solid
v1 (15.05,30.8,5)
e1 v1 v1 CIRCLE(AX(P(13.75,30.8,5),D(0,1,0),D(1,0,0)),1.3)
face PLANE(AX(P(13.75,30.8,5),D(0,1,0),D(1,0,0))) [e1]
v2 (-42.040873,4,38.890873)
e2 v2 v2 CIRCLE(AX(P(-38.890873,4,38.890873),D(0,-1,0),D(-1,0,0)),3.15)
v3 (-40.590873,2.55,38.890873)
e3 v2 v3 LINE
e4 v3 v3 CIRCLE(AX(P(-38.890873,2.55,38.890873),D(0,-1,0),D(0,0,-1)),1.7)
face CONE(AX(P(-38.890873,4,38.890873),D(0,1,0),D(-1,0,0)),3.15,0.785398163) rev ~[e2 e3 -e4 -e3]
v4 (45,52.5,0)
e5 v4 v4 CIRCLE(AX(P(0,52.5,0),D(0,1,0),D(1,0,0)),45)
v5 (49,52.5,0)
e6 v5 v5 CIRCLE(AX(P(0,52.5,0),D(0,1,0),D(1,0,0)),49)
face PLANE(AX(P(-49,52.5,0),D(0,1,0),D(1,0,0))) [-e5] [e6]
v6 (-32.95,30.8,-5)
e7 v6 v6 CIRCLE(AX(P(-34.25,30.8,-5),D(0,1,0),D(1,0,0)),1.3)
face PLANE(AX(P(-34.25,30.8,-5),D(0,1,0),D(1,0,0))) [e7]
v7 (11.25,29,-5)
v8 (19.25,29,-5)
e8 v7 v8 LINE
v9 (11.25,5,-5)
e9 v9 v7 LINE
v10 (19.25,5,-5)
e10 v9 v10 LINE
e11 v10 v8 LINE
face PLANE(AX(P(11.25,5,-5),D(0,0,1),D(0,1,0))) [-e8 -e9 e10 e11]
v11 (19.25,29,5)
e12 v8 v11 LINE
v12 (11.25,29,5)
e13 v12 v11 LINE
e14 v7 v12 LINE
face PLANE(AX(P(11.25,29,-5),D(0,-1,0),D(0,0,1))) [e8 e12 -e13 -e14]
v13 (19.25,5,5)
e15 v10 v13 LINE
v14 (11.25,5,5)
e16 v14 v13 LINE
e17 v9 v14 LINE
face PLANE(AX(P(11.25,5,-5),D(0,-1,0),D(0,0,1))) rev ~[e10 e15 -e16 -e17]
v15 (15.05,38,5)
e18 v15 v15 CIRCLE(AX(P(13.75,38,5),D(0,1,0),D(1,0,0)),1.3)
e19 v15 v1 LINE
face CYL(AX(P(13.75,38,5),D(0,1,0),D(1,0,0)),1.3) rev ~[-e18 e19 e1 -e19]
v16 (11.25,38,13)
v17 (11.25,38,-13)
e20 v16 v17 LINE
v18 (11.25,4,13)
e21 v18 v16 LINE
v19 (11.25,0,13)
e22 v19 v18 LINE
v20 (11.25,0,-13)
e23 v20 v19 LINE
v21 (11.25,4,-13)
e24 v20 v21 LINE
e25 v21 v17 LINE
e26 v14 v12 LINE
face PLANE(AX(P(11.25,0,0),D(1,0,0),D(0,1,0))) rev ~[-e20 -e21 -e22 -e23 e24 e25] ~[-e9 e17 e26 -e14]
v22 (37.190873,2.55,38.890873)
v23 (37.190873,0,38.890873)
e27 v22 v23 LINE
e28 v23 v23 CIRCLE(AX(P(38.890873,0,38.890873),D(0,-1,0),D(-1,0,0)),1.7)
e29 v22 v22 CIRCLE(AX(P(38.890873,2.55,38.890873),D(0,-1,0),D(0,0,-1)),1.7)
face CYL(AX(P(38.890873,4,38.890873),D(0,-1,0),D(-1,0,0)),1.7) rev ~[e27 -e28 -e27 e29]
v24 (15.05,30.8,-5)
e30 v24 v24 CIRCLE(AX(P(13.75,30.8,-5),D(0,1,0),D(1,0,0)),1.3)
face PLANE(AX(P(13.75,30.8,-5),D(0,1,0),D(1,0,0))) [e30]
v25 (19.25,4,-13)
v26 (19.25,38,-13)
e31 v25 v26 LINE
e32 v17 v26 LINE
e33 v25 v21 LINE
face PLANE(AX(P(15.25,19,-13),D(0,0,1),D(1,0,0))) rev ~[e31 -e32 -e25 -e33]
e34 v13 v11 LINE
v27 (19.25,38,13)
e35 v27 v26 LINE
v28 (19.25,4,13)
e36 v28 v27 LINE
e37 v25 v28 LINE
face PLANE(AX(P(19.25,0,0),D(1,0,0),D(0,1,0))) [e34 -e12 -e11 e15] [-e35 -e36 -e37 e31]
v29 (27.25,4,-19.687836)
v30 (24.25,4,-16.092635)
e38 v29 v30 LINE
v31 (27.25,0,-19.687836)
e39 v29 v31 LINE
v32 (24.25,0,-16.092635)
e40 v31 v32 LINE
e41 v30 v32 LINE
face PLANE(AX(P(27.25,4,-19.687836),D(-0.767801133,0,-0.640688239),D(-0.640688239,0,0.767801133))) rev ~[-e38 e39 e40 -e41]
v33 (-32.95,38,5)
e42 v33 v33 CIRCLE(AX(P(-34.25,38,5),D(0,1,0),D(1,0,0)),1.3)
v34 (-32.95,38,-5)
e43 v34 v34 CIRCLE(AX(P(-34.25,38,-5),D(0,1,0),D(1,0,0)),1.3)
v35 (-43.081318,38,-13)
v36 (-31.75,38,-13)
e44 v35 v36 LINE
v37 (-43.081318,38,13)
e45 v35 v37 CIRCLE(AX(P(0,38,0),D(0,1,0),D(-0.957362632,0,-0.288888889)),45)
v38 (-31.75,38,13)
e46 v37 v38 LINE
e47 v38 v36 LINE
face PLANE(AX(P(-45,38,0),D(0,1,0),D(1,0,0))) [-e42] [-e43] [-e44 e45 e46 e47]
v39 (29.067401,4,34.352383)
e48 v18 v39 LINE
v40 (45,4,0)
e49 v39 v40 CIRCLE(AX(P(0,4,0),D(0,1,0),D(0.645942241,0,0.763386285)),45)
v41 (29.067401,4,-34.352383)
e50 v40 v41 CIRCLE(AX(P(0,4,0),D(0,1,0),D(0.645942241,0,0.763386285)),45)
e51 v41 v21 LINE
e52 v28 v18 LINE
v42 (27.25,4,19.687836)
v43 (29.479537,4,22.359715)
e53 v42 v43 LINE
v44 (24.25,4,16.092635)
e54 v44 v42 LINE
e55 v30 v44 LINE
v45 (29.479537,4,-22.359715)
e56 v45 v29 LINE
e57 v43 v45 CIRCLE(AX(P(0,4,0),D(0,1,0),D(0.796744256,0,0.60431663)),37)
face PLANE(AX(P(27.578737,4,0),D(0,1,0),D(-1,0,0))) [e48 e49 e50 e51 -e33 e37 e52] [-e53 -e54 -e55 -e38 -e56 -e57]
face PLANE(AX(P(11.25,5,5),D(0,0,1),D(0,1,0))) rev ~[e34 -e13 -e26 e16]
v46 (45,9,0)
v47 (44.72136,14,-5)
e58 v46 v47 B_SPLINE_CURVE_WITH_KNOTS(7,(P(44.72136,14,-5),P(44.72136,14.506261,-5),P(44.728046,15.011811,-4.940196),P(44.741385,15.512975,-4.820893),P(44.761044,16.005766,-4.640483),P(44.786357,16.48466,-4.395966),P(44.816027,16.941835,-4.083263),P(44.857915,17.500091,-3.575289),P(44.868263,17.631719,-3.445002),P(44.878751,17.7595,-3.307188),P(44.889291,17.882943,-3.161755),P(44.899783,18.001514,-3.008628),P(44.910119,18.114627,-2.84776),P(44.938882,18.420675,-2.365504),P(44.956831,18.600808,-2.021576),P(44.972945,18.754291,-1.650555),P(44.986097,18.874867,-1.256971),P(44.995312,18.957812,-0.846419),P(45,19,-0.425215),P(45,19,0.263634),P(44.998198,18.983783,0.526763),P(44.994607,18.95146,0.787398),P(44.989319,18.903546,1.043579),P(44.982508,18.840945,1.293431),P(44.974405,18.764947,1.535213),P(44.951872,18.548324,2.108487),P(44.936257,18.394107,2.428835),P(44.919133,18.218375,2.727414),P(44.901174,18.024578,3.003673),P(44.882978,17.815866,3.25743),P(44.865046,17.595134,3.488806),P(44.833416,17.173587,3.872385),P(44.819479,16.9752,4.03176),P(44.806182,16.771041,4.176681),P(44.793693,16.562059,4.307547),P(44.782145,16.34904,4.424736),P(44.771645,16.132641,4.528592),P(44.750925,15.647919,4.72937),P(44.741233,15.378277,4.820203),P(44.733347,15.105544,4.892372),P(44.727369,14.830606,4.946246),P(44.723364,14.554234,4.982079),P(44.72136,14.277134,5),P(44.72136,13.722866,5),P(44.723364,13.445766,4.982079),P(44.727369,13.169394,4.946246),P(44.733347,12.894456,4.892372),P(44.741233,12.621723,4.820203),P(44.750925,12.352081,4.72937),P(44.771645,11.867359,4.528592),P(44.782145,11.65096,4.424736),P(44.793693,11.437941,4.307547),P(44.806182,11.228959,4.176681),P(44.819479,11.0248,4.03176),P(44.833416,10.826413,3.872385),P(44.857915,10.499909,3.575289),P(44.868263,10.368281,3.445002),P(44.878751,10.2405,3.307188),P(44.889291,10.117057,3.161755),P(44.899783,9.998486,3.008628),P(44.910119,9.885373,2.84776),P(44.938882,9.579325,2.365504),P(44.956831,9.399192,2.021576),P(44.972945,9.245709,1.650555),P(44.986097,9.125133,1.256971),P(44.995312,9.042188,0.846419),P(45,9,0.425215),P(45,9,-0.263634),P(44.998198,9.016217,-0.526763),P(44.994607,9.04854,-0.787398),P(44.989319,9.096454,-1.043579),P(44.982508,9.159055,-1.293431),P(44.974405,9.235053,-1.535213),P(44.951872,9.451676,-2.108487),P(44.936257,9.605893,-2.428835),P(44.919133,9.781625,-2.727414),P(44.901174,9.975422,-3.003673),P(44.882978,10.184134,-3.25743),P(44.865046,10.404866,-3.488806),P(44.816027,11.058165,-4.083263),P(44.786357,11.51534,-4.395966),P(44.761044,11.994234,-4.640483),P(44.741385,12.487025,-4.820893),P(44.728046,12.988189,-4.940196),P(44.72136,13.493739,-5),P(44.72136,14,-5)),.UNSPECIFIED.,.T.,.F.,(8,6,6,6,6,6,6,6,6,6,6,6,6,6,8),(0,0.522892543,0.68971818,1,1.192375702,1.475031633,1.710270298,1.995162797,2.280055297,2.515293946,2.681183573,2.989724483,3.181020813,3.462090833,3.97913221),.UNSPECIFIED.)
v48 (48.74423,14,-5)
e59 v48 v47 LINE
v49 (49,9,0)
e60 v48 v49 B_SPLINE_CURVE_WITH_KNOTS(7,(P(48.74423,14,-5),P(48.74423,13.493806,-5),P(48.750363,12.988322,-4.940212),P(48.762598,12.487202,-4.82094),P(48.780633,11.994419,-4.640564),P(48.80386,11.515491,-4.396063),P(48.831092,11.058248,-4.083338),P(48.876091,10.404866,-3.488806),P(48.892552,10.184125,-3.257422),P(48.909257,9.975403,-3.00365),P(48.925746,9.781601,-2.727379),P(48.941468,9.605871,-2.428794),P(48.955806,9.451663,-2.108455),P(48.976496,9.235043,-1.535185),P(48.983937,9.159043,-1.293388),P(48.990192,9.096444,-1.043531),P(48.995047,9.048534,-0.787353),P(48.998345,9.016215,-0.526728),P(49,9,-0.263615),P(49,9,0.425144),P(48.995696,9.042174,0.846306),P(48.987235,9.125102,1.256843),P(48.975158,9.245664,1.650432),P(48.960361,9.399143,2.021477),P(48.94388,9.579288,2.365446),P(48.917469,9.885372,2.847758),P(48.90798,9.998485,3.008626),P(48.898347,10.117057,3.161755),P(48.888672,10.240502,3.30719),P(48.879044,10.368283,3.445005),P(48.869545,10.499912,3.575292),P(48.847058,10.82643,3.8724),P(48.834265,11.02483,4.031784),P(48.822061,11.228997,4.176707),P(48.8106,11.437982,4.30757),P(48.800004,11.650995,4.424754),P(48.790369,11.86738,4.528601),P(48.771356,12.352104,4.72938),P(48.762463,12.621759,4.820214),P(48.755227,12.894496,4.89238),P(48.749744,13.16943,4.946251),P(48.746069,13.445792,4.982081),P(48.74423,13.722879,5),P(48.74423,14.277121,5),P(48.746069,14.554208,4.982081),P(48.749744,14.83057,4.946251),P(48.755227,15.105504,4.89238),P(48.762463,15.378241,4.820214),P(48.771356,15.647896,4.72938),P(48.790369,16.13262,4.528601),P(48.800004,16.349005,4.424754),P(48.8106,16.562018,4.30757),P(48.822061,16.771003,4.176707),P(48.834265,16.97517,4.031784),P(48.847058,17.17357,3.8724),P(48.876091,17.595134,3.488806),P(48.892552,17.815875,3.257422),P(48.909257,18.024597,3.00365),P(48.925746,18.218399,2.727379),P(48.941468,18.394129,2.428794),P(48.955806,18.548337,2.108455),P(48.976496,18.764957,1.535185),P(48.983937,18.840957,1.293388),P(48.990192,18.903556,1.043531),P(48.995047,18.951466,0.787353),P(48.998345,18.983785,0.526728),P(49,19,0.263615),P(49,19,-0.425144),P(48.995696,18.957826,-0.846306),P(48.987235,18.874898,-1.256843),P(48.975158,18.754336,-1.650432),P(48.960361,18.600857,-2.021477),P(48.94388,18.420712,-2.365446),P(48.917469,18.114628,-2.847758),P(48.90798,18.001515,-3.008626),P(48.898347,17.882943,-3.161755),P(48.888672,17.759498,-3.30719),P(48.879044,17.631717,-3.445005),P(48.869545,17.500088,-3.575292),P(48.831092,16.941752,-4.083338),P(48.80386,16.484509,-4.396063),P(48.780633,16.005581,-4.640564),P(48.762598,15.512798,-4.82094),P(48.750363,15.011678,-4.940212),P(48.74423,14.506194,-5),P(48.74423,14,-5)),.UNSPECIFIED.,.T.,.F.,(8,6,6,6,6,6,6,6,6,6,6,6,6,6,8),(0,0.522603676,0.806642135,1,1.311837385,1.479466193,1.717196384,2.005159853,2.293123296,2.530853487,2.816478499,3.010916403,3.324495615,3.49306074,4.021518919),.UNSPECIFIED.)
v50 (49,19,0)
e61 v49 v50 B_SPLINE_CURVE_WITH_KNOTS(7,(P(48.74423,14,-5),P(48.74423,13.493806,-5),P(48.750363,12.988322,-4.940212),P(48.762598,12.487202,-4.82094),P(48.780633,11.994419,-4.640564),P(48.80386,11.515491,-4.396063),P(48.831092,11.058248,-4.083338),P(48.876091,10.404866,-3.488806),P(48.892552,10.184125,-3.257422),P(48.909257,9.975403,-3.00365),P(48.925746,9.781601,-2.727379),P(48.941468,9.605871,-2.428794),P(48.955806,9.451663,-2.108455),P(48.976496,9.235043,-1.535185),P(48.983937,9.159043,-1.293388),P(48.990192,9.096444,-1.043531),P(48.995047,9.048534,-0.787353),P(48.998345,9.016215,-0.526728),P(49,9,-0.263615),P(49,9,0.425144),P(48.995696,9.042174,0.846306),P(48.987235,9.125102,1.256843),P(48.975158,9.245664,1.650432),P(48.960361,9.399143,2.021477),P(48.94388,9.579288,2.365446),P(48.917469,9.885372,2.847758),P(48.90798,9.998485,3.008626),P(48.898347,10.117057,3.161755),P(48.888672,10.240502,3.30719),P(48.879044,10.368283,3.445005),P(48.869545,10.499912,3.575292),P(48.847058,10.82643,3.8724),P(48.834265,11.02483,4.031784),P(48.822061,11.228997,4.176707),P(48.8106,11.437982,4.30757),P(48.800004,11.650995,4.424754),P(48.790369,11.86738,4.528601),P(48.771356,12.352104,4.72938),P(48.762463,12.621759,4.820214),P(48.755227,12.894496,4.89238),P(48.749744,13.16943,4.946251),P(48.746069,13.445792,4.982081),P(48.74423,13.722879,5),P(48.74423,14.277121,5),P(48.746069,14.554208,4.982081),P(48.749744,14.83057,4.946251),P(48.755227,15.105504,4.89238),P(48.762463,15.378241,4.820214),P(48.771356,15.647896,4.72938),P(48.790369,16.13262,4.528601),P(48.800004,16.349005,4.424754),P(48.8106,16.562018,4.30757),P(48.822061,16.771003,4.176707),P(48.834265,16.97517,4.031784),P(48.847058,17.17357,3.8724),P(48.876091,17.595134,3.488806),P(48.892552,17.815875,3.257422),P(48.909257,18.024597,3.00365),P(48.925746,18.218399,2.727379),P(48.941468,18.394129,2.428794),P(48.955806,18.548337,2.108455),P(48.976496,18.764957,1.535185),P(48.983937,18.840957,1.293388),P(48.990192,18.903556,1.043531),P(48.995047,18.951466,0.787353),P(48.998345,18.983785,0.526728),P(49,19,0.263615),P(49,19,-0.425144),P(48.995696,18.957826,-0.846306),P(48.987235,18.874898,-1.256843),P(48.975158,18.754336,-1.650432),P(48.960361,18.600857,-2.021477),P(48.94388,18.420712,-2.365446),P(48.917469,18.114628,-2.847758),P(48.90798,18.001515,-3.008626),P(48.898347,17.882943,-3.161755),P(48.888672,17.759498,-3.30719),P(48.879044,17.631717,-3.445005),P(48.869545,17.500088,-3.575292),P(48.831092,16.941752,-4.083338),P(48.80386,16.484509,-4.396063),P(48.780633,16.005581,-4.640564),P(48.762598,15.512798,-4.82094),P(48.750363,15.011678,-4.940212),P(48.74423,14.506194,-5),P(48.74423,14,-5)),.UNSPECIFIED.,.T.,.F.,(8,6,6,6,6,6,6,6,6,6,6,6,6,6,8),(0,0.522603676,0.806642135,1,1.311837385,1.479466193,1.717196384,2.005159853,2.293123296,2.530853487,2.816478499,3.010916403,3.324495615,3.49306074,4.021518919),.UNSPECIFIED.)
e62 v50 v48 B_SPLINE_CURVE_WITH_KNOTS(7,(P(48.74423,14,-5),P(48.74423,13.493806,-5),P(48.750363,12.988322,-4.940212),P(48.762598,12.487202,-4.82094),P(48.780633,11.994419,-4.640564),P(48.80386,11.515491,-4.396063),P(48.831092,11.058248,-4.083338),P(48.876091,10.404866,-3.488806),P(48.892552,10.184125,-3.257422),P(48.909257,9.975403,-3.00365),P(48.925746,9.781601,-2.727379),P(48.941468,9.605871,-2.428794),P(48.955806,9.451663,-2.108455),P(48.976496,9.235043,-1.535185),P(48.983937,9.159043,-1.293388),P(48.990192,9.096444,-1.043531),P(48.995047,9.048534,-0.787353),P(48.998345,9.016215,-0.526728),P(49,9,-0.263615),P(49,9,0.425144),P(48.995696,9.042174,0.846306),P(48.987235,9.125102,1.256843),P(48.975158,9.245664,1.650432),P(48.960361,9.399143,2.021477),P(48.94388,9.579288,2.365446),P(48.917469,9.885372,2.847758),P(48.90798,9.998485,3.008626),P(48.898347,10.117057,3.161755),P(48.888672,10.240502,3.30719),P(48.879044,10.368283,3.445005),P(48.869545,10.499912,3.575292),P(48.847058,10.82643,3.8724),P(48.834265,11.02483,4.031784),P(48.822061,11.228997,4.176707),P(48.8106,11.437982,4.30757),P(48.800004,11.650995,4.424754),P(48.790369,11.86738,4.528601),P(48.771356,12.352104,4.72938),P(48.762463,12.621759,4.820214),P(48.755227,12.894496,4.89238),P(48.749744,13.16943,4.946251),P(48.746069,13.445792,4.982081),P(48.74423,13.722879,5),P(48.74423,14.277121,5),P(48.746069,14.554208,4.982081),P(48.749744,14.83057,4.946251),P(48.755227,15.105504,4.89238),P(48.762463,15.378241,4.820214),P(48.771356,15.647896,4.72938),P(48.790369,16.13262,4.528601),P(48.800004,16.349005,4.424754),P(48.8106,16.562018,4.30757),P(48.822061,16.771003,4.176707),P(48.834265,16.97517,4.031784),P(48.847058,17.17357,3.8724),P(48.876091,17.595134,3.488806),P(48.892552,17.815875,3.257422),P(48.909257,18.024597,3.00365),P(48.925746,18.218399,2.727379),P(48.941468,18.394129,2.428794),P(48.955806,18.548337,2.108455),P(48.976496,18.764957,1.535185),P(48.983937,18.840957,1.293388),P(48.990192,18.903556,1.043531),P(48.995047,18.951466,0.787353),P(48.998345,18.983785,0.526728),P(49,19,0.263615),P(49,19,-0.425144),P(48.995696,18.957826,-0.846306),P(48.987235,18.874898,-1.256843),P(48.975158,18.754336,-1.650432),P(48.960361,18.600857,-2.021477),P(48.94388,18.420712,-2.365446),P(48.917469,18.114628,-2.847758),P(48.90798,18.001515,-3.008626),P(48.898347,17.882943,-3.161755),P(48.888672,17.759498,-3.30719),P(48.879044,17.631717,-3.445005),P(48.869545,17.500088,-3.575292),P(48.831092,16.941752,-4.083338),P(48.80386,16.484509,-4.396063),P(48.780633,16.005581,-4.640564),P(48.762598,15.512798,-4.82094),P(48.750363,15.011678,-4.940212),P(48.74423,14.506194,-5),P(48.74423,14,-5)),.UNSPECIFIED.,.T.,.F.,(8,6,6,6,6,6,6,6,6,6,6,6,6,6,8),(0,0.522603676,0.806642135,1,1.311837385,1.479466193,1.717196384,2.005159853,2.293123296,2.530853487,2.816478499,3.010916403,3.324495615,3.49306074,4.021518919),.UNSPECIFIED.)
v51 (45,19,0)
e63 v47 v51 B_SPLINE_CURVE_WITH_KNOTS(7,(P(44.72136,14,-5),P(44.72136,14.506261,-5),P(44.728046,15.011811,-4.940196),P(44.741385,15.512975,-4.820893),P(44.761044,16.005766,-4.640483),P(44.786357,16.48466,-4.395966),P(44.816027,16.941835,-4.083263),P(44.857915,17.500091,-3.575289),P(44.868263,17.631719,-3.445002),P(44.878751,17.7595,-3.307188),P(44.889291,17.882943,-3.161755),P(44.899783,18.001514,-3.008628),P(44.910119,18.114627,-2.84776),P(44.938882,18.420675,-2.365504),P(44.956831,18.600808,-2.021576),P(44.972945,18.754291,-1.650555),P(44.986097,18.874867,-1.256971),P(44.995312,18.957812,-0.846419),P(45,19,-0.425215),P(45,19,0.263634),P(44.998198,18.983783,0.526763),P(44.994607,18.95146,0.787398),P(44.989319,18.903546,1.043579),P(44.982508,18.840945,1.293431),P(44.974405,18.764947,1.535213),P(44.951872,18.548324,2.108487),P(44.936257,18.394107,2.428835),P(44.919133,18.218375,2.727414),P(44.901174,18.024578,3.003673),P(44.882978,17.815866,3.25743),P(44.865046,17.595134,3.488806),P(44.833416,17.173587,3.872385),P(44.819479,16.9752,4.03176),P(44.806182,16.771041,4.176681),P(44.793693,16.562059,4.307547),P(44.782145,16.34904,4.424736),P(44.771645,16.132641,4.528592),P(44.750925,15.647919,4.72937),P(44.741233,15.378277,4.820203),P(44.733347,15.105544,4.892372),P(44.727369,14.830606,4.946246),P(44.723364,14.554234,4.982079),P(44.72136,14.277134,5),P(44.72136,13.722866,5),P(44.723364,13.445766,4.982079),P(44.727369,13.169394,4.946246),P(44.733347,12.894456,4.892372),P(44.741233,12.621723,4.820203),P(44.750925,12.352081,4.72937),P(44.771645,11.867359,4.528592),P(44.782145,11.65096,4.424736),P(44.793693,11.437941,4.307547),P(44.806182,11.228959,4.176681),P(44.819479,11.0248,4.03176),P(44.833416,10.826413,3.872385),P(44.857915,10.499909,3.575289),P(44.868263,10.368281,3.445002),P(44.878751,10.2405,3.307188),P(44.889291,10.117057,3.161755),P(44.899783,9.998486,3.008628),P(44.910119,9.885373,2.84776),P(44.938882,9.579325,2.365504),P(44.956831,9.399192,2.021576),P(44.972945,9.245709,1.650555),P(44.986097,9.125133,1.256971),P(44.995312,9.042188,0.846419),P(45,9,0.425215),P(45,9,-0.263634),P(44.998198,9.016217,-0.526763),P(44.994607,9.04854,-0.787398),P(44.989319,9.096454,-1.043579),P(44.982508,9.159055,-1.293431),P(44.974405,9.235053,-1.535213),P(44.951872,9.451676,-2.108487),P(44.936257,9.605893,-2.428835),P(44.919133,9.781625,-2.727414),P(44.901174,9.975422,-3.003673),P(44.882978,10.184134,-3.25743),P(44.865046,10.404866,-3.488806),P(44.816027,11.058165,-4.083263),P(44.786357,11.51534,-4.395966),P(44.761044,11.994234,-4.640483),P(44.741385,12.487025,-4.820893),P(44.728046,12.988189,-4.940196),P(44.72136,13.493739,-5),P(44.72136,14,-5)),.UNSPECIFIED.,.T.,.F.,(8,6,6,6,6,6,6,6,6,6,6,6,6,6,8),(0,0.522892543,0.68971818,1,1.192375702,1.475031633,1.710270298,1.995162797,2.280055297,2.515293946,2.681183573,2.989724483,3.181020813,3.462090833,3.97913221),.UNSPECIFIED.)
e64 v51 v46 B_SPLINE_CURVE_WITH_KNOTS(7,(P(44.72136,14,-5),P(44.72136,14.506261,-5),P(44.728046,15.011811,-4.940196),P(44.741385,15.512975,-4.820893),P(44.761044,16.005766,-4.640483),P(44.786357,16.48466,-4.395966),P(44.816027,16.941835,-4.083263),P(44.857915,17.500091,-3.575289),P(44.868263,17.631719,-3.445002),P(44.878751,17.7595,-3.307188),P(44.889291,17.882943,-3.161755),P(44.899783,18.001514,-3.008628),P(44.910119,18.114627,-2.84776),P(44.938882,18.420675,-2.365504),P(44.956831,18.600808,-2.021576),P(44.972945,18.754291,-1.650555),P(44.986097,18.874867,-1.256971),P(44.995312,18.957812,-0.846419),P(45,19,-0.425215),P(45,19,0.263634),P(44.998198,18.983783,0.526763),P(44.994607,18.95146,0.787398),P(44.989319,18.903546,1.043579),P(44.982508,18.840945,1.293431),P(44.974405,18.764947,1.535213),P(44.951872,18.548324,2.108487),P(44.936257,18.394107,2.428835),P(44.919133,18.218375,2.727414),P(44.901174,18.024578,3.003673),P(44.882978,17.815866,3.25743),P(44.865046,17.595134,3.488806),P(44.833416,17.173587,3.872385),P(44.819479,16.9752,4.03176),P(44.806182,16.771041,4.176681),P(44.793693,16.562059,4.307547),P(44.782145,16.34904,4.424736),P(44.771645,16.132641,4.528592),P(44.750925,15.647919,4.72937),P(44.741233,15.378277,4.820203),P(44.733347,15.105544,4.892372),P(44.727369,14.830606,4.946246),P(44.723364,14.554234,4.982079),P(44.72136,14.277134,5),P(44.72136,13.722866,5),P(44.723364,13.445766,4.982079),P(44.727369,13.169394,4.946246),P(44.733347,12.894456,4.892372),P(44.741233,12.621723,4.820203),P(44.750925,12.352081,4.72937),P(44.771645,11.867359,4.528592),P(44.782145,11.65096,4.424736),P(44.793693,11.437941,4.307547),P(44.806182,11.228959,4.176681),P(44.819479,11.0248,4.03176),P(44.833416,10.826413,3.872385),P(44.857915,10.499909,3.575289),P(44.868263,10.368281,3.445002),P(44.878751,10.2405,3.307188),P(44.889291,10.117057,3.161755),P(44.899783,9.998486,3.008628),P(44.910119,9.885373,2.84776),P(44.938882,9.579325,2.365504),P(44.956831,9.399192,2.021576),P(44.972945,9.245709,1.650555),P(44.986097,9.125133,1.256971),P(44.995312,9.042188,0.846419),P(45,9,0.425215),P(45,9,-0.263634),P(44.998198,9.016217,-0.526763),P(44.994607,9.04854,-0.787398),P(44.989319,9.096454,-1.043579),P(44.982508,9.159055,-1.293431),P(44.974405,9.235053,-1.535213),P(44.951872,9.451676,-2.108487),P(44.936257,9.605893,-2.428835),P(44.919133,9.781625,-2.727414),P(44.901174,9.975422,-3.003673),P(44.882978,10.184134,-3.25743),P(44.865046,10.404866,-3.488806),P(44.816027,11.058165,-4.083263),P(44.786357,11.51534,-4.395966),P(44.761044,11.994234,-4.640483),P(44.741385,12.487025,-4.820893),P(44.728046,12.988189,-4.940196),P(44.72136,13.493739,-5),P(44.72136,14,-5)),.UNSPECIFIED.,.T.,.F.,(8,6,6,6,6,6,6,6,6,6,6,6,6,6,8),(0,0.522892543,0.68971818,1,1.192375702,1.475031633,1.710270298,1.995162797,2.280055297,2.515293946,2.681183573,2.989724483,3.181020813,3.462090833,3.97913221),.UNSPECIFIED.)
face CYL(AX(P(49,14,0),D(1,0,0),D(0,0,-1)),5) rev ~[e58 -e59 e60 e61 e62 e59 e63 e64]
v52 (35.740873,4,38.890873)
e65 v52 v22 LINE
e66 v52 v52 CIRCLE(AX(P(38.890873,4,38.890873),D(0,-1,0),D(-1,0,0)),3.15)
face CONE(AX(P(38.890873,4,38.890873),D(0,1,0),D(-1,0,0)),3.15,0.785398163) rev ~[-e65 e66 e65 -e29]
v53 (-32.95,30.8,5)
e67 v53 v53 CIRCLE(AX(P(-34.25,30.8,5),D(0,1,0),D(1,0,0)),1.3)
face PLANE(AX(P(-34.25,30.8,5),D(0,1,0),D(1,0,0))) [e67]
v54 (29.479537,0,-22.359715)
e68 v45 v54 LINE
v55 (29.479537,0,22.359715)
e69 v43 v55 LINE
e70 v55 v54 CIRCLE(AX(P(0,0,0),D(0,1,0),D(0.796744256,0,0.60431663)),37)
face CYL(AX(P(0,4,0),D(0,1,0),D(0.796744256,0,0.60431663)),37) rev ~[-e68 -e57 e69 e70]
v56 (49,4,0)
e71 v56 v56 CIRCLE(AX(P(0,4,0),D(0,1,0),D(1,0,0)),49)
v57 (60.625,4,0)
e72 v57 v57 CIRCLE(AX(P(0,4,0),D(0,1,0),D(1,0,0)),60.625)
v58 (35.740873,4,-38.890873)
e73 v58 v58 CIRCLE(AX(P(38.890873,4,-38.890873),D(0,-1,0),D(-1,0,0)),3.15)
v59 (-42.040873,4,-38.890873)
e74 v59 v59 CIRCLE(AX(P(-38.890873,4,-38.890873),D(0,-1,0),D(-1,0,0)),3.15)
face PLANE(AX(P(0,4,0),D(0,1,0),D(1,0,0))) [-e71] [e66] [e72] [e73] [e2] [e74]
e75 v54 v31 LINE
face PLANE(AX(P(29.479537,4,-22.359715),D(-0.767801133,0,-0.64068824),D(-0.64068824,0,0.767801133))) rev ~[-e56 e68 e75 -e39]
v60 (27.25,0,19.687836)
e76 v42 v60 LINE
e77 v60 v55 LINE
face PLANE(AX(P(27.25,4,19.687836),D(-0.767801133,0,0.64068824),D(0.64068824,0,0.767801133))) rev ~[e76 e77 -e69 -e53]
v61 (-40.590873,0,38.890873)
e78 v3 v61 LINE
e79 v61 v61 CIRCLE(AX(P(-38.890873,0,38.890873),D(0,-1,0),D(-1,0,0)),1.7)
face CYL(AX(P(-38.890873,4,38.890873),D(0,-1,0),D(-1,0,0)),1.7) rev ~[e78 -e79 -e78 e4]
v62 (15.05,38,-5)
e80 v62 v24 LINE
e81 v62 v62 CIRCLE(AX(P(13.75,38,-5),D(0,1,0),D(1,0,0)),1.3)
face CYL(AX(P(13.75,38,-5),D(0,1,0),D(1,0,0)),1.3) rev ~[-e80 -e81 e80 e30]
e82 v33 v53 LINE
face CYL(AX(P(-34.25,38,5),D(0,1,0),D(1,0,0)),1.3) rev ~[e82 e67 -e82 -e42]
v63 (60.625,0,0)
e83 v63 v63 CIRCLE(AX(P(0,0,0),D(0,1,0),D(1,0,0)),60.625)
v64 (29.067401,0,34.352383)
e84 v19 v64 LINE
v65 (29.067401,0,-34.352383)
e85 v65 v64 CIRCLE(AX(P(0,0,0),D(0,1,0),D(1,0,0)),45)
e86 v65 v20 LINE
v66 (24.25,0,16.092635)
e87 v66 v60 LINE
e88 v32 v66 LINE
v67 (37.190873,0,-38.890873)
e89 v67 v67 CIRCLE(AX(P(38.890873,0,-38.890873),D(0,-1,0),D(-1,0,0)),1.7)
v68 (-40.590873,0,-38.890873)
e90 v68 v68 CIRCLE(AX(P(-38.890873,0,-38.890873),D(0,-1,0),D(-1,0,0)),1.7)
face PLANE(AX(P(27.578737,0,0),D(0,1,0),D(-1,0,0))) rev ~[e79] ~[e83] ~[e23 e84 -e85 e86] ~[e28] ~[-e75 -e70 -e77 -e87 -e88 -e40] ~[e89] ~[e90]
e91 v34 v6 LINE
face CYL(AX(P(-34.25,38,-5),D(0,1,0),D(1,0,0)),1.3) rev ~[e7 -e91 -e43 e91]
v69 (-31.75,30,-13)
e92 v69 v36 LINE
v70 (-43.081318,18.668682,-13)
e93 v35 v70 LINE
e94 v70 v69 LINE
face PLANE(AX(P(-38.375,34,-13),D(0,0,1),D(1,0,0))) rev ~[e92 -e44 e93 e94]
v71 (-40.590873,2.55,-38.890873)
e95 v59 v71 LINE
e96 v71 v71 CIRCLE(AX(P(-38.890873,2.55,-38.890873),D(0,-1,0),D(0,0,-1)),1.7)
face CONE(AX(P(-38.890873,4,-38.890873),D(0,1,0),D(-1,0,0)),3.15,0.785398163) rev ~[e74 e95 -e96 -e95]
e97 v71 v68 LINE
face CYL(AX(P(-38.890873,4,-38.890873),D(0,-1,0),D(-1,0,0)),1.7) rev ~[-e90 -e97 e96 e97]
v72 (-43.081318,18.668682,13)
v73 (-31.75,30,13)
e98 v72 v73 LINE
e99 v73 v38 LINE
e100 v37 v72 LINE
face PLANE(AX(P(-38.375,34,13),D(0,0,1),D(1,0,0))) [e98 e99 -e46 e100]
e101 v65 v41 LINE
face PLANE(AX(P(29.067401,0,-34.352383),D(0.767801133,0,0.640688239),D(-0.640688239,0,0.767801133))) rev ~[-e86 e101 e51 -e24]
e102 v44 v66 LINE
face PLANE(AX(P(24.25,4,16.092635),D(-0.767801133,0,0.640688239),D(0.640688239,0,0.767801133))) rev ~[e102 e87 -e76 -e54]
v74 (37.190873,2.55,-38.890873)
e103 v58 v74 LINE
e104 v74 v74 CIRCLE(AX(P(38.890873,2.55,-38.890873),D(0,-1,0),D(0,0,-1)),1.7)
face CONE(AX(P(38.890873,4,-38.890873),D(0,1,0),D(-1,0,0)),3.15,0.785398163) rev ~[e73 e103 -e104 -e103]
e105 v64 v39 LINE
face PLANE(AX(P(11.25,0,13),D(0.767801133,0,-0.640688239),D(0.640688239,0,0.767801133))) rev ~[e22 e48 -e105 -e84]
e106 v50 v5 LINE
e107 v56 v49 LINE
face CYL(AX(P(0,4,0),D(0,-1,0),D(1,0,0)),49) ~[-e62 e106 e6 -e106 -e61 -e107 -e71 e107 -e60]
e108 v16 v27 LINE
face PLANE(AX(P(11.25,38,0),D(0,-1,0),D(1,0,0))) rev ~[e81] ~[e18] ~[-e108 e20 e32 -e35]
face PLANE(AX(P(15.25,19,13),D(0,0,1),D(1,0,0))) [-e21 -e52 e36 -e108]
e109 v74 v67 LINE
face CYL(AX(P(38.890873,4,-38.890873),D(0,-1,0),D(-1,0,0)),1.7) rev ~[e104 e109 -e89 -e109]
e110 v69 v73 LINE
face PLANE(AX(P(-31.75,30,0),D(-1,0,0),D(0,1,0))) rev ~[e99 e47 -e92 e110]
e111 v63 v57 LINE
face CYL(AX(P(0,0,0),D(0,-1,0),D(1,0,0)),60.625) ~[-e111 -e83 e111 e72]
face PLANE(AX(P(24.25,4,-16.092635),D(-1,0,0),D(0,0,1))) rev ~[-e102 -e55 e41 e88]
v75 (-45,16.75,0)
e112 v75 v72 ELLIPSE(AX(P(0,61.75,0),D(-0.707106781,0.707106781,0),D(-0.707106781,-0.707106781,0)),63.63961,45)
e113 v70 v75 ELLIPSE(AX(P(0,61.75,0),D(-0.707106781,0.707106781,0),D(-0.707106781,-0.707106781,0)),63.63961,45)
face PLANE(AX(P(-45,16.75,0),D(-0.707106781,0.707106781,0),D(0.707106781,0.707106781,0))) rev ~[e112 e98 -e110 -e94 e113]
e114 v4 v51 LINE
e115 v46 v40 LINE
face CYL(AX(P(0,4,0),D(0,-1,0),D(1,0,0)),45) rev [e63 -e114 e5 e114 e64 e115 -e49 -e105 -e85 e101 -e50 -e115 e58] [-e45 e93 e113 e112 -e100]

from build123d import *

# Parameters (mm, degrees)
SKETCH1_R                                           = 60.625
SKETCH1_R_2                                         = 45
BOSS_EXTRUDE1_DEPTH                                 = 4
SKETCH2_R                                           = 49
SKETCH2_R_2                                         = 45
BOSS_EXTRUDE2_DEPTH                                 = 52
SKETCH4_W                                           = 13.25
SKETCH4_H                                           = 8
SKETCH4_W_2                                         = 8
SKETCH4_H_2                                         = 38
BOSS_EXTRUDE4_DEPTH                                 = 13
BOSS_EXTRUDE5_DEPTH                                 = 4
SKETCH7_R                                           = 1.3
CUT_EXTRUDE4_DEPTH                                  = 7.2
SKETCH9_W                                           = 10
SKETCH9_H                                           = 24
CUT_EXTRUDE7_DEPTH                                  = 8
CUT_EXTRUDE8_REACH                                  = 111.625
SKETCH11_R                                          = 5
CUT_EXTRUDE9_DEPTH                                  = 5.0000001
CSK_FOR_M3_COUNTERSUNK_FLAT_HEAD_SCREW1_D           = 3.4
CSK_FOR_M3_COUNTERSUNK_FLAT_HEAD_SCREW1_DEPTH       = 4
CSK_FOR_M3_COUNTERSUNK_FLAT_HEAD_SCREW1_CSINK_D     = 6.3
CSK_FOR_M3_COUNTERSUNK_FLAT_HEAD_SCREW1_CSINK_ANGLE = 90
SKETCH18_W                                          = 98
SKETCH18_H                                          = 7
CUT_EXTRUDE10_DEPTH                                 = 61.625
CUT_EXTRUDE10_DEPTH_BACK                            = 61.625


with BuildPart() as part:
    # Sketch1 → Boss-Extrude1 (new body)
    with BuildSketch(Plane(origin=(0, 0, 0), x_dir=(1, 0, 0), z_dir=(0, 1, 0))):
        Circle(SKETCH1_R)
        Circle(SKETCH1_R_2, mode=Mode.SUBTRACT)
    extrude(amount=BOSS_EXTRUDE1_DEPTH)

    # Sketch2 → Boss-Extrude2 (add)
    with BuildSketch(Plane(origin=(0, 4, 0), x_dir=(1, 0, 0), z_dir=(0, 1, 0))):
        Circle(SKETCH2_R)
        Circle(SKETCH2_R_2, mode=Mode.SUBTRACT)
    extrude(amount=BOSS_EXTRUDE2_DEPTH)

    # Sketch4 → Boss-Extrude4 (add, symmetric)
    with BuildSketch(Plane.XY):
        with Locations((-38.375, 34)):
            Rectangle(SKETCH4_W, SKETCH4_H)
        Polygon((-31.75, 30), (-45, 30), (-45, 16.75), align=None)
        with Locations((15.25, 19)):
            Rectangle(SKETCH4_W_2, SKETCH4_H_2)
    extrude(amount=BOSS_EXTRUDE4_DEPTH, both=True)

    # Sketch5 → Boss-Extrude5 (add)
    with BuildSketch(Plane.XZ):
        with BuildLine():
            Line((11.25, 13), (29.067400866, 34.352382842))
            ThreePointArc((29.067400866, 34.352382842), (45, 0), (29.067400866, -34.352382842))
            Line((29.067400866, -34.352382842), (11.25, -13))
            Line((11.25, -13), (11.25, 13))
        make_face()
    extrude(amount=-BOSS_EXTRUDE5_DEPTH)

    # Sketch7 → Cut-Extrude4 (cut)
    with BuildSketch(Plane(origin=(0, 38, 0), x_dir=(1, 0, 0), z_dir=(0, 1, 0))):
        with Locations((-34.25, 5)):
            Circle(SKETCH7_R)
        with Locations((-34.25, -5)):
            Circle(SKETCH7_R)
        with Locations((13.75, 5)):
            Circle(SKETCH7_R)
        with Locations((13.75, -5)):
            Circle(SKETCH7_R)
    extrude(amount=-CUT_EXTRUDE4_DEPTH, mode=Mode.SUBTRACT)

    # Sketch9 → Cut-Extrude7 (cut)
    with BuildSketch(Plane.ZY.offset(-11.25)):
        with Locations((0, 17)):
            Rectangle(SKETCH9_W, SKETCH9_H)
    extrude(amount=-CUT_EXTRUDE7_DEPTH, mode=Mode.SUBTRACT)

    # Sketch11 → Cut-Extrude8 (cut, up to next)
    with BuildSketch(Plane(origin=(49, 0, 0), x_dir=(0, 0, -1), z_dir=(1, 0, 0)), mode=Mode.PRIVATE) as cut_extrude8_sk1:
        with Locations((0, 14)):
            Circle(SKETCH11_R)
    cut_extrude8_tool1 = extrude(cut_extrude8_sk1.sketch, amount=-CUT_EXTRUDE8_REACH, mode=Mode.PRIVATE) & part.part
    add(cut_extrude8_tool1.solids().sort_by_distance((49, 14, 0))[0], mode=Mode.SUBTRACT)

    # Sketch12 → Cut-Extrude9 (cut, through all)
    with BuildSketch(Plane(origin=(0, 4, 0), x_dir=(1, 0, 0), z_dir=(0, 1, 0))):
        with BuildLine():
            Line((29.479537487, 22.359715328), (27.25, 19.687836398))
            Line((27.25, 19.687836398), (27.25, -19.687836398))
            Line((27.25, -19.687836398), (29.479537487, -22.359715328))
            ThreePointArc((29.479537487, -22.359715328), (37, 0), (29.479537487, 22.359715328))
        make_face()
        Polygon((27.25, -19.687836398), (27.25, 19.687836398), (24.25, 16.092634774), (24.25, -16.092634774), align=None)
    extrude(amount=-CUT_EXTRUDE9_DEPTH, mode=Mode.SUBTRACT)

    # CSK for M3 Countersunk Flat Head Screw1
    with Locations(Plane(origin=(0, 4, 0), x_dir=(1, 0, 0), z_dir=(0, 1, 0))):
        with Locations((-38.890872965, 38.890872965), (-38.890872965, -38.890872965), (38.890872965, -38.890872965), (38.890872965, 38.890872965)):
            CounterSinkHole(CSK_FOR_M3_COUNTERSUNK_FLAT_HEAD_SCREW1_D / 2, CSK_FOR_M3_COUNTERSUNK_FLAT_HEAD_SCREW1_CSINK_D / 2, depth=CSK_FOR_M3_COUNTERSUNK_FLAT_HEAD_SCREW1_DEPTH, counter_sink_angle=CSK_FOR_M3_COUNTERSUNK_FLAT_HEAD_SCREW1_CSINK_ANGLE)

    # Sketch18 → Cut-Extrude10 (cut, two sides)
    with BuildSketch(Plane.XY) as cut_extrude10_sk:
        with Locations((0, 56)):
            Rectangle(SKETCH18_W, SKETCH18_H)
    extrude(amount=CUT_EXTRUDE10_DEPTH, mode=Mode.SUBTRACT)
    extrude(cut_extrude10_sk.sketch, amount=-CUT_EXTRUDE10_DEPTH_BACK, mode=Mode.SUBTRACT)


solid = part.part
